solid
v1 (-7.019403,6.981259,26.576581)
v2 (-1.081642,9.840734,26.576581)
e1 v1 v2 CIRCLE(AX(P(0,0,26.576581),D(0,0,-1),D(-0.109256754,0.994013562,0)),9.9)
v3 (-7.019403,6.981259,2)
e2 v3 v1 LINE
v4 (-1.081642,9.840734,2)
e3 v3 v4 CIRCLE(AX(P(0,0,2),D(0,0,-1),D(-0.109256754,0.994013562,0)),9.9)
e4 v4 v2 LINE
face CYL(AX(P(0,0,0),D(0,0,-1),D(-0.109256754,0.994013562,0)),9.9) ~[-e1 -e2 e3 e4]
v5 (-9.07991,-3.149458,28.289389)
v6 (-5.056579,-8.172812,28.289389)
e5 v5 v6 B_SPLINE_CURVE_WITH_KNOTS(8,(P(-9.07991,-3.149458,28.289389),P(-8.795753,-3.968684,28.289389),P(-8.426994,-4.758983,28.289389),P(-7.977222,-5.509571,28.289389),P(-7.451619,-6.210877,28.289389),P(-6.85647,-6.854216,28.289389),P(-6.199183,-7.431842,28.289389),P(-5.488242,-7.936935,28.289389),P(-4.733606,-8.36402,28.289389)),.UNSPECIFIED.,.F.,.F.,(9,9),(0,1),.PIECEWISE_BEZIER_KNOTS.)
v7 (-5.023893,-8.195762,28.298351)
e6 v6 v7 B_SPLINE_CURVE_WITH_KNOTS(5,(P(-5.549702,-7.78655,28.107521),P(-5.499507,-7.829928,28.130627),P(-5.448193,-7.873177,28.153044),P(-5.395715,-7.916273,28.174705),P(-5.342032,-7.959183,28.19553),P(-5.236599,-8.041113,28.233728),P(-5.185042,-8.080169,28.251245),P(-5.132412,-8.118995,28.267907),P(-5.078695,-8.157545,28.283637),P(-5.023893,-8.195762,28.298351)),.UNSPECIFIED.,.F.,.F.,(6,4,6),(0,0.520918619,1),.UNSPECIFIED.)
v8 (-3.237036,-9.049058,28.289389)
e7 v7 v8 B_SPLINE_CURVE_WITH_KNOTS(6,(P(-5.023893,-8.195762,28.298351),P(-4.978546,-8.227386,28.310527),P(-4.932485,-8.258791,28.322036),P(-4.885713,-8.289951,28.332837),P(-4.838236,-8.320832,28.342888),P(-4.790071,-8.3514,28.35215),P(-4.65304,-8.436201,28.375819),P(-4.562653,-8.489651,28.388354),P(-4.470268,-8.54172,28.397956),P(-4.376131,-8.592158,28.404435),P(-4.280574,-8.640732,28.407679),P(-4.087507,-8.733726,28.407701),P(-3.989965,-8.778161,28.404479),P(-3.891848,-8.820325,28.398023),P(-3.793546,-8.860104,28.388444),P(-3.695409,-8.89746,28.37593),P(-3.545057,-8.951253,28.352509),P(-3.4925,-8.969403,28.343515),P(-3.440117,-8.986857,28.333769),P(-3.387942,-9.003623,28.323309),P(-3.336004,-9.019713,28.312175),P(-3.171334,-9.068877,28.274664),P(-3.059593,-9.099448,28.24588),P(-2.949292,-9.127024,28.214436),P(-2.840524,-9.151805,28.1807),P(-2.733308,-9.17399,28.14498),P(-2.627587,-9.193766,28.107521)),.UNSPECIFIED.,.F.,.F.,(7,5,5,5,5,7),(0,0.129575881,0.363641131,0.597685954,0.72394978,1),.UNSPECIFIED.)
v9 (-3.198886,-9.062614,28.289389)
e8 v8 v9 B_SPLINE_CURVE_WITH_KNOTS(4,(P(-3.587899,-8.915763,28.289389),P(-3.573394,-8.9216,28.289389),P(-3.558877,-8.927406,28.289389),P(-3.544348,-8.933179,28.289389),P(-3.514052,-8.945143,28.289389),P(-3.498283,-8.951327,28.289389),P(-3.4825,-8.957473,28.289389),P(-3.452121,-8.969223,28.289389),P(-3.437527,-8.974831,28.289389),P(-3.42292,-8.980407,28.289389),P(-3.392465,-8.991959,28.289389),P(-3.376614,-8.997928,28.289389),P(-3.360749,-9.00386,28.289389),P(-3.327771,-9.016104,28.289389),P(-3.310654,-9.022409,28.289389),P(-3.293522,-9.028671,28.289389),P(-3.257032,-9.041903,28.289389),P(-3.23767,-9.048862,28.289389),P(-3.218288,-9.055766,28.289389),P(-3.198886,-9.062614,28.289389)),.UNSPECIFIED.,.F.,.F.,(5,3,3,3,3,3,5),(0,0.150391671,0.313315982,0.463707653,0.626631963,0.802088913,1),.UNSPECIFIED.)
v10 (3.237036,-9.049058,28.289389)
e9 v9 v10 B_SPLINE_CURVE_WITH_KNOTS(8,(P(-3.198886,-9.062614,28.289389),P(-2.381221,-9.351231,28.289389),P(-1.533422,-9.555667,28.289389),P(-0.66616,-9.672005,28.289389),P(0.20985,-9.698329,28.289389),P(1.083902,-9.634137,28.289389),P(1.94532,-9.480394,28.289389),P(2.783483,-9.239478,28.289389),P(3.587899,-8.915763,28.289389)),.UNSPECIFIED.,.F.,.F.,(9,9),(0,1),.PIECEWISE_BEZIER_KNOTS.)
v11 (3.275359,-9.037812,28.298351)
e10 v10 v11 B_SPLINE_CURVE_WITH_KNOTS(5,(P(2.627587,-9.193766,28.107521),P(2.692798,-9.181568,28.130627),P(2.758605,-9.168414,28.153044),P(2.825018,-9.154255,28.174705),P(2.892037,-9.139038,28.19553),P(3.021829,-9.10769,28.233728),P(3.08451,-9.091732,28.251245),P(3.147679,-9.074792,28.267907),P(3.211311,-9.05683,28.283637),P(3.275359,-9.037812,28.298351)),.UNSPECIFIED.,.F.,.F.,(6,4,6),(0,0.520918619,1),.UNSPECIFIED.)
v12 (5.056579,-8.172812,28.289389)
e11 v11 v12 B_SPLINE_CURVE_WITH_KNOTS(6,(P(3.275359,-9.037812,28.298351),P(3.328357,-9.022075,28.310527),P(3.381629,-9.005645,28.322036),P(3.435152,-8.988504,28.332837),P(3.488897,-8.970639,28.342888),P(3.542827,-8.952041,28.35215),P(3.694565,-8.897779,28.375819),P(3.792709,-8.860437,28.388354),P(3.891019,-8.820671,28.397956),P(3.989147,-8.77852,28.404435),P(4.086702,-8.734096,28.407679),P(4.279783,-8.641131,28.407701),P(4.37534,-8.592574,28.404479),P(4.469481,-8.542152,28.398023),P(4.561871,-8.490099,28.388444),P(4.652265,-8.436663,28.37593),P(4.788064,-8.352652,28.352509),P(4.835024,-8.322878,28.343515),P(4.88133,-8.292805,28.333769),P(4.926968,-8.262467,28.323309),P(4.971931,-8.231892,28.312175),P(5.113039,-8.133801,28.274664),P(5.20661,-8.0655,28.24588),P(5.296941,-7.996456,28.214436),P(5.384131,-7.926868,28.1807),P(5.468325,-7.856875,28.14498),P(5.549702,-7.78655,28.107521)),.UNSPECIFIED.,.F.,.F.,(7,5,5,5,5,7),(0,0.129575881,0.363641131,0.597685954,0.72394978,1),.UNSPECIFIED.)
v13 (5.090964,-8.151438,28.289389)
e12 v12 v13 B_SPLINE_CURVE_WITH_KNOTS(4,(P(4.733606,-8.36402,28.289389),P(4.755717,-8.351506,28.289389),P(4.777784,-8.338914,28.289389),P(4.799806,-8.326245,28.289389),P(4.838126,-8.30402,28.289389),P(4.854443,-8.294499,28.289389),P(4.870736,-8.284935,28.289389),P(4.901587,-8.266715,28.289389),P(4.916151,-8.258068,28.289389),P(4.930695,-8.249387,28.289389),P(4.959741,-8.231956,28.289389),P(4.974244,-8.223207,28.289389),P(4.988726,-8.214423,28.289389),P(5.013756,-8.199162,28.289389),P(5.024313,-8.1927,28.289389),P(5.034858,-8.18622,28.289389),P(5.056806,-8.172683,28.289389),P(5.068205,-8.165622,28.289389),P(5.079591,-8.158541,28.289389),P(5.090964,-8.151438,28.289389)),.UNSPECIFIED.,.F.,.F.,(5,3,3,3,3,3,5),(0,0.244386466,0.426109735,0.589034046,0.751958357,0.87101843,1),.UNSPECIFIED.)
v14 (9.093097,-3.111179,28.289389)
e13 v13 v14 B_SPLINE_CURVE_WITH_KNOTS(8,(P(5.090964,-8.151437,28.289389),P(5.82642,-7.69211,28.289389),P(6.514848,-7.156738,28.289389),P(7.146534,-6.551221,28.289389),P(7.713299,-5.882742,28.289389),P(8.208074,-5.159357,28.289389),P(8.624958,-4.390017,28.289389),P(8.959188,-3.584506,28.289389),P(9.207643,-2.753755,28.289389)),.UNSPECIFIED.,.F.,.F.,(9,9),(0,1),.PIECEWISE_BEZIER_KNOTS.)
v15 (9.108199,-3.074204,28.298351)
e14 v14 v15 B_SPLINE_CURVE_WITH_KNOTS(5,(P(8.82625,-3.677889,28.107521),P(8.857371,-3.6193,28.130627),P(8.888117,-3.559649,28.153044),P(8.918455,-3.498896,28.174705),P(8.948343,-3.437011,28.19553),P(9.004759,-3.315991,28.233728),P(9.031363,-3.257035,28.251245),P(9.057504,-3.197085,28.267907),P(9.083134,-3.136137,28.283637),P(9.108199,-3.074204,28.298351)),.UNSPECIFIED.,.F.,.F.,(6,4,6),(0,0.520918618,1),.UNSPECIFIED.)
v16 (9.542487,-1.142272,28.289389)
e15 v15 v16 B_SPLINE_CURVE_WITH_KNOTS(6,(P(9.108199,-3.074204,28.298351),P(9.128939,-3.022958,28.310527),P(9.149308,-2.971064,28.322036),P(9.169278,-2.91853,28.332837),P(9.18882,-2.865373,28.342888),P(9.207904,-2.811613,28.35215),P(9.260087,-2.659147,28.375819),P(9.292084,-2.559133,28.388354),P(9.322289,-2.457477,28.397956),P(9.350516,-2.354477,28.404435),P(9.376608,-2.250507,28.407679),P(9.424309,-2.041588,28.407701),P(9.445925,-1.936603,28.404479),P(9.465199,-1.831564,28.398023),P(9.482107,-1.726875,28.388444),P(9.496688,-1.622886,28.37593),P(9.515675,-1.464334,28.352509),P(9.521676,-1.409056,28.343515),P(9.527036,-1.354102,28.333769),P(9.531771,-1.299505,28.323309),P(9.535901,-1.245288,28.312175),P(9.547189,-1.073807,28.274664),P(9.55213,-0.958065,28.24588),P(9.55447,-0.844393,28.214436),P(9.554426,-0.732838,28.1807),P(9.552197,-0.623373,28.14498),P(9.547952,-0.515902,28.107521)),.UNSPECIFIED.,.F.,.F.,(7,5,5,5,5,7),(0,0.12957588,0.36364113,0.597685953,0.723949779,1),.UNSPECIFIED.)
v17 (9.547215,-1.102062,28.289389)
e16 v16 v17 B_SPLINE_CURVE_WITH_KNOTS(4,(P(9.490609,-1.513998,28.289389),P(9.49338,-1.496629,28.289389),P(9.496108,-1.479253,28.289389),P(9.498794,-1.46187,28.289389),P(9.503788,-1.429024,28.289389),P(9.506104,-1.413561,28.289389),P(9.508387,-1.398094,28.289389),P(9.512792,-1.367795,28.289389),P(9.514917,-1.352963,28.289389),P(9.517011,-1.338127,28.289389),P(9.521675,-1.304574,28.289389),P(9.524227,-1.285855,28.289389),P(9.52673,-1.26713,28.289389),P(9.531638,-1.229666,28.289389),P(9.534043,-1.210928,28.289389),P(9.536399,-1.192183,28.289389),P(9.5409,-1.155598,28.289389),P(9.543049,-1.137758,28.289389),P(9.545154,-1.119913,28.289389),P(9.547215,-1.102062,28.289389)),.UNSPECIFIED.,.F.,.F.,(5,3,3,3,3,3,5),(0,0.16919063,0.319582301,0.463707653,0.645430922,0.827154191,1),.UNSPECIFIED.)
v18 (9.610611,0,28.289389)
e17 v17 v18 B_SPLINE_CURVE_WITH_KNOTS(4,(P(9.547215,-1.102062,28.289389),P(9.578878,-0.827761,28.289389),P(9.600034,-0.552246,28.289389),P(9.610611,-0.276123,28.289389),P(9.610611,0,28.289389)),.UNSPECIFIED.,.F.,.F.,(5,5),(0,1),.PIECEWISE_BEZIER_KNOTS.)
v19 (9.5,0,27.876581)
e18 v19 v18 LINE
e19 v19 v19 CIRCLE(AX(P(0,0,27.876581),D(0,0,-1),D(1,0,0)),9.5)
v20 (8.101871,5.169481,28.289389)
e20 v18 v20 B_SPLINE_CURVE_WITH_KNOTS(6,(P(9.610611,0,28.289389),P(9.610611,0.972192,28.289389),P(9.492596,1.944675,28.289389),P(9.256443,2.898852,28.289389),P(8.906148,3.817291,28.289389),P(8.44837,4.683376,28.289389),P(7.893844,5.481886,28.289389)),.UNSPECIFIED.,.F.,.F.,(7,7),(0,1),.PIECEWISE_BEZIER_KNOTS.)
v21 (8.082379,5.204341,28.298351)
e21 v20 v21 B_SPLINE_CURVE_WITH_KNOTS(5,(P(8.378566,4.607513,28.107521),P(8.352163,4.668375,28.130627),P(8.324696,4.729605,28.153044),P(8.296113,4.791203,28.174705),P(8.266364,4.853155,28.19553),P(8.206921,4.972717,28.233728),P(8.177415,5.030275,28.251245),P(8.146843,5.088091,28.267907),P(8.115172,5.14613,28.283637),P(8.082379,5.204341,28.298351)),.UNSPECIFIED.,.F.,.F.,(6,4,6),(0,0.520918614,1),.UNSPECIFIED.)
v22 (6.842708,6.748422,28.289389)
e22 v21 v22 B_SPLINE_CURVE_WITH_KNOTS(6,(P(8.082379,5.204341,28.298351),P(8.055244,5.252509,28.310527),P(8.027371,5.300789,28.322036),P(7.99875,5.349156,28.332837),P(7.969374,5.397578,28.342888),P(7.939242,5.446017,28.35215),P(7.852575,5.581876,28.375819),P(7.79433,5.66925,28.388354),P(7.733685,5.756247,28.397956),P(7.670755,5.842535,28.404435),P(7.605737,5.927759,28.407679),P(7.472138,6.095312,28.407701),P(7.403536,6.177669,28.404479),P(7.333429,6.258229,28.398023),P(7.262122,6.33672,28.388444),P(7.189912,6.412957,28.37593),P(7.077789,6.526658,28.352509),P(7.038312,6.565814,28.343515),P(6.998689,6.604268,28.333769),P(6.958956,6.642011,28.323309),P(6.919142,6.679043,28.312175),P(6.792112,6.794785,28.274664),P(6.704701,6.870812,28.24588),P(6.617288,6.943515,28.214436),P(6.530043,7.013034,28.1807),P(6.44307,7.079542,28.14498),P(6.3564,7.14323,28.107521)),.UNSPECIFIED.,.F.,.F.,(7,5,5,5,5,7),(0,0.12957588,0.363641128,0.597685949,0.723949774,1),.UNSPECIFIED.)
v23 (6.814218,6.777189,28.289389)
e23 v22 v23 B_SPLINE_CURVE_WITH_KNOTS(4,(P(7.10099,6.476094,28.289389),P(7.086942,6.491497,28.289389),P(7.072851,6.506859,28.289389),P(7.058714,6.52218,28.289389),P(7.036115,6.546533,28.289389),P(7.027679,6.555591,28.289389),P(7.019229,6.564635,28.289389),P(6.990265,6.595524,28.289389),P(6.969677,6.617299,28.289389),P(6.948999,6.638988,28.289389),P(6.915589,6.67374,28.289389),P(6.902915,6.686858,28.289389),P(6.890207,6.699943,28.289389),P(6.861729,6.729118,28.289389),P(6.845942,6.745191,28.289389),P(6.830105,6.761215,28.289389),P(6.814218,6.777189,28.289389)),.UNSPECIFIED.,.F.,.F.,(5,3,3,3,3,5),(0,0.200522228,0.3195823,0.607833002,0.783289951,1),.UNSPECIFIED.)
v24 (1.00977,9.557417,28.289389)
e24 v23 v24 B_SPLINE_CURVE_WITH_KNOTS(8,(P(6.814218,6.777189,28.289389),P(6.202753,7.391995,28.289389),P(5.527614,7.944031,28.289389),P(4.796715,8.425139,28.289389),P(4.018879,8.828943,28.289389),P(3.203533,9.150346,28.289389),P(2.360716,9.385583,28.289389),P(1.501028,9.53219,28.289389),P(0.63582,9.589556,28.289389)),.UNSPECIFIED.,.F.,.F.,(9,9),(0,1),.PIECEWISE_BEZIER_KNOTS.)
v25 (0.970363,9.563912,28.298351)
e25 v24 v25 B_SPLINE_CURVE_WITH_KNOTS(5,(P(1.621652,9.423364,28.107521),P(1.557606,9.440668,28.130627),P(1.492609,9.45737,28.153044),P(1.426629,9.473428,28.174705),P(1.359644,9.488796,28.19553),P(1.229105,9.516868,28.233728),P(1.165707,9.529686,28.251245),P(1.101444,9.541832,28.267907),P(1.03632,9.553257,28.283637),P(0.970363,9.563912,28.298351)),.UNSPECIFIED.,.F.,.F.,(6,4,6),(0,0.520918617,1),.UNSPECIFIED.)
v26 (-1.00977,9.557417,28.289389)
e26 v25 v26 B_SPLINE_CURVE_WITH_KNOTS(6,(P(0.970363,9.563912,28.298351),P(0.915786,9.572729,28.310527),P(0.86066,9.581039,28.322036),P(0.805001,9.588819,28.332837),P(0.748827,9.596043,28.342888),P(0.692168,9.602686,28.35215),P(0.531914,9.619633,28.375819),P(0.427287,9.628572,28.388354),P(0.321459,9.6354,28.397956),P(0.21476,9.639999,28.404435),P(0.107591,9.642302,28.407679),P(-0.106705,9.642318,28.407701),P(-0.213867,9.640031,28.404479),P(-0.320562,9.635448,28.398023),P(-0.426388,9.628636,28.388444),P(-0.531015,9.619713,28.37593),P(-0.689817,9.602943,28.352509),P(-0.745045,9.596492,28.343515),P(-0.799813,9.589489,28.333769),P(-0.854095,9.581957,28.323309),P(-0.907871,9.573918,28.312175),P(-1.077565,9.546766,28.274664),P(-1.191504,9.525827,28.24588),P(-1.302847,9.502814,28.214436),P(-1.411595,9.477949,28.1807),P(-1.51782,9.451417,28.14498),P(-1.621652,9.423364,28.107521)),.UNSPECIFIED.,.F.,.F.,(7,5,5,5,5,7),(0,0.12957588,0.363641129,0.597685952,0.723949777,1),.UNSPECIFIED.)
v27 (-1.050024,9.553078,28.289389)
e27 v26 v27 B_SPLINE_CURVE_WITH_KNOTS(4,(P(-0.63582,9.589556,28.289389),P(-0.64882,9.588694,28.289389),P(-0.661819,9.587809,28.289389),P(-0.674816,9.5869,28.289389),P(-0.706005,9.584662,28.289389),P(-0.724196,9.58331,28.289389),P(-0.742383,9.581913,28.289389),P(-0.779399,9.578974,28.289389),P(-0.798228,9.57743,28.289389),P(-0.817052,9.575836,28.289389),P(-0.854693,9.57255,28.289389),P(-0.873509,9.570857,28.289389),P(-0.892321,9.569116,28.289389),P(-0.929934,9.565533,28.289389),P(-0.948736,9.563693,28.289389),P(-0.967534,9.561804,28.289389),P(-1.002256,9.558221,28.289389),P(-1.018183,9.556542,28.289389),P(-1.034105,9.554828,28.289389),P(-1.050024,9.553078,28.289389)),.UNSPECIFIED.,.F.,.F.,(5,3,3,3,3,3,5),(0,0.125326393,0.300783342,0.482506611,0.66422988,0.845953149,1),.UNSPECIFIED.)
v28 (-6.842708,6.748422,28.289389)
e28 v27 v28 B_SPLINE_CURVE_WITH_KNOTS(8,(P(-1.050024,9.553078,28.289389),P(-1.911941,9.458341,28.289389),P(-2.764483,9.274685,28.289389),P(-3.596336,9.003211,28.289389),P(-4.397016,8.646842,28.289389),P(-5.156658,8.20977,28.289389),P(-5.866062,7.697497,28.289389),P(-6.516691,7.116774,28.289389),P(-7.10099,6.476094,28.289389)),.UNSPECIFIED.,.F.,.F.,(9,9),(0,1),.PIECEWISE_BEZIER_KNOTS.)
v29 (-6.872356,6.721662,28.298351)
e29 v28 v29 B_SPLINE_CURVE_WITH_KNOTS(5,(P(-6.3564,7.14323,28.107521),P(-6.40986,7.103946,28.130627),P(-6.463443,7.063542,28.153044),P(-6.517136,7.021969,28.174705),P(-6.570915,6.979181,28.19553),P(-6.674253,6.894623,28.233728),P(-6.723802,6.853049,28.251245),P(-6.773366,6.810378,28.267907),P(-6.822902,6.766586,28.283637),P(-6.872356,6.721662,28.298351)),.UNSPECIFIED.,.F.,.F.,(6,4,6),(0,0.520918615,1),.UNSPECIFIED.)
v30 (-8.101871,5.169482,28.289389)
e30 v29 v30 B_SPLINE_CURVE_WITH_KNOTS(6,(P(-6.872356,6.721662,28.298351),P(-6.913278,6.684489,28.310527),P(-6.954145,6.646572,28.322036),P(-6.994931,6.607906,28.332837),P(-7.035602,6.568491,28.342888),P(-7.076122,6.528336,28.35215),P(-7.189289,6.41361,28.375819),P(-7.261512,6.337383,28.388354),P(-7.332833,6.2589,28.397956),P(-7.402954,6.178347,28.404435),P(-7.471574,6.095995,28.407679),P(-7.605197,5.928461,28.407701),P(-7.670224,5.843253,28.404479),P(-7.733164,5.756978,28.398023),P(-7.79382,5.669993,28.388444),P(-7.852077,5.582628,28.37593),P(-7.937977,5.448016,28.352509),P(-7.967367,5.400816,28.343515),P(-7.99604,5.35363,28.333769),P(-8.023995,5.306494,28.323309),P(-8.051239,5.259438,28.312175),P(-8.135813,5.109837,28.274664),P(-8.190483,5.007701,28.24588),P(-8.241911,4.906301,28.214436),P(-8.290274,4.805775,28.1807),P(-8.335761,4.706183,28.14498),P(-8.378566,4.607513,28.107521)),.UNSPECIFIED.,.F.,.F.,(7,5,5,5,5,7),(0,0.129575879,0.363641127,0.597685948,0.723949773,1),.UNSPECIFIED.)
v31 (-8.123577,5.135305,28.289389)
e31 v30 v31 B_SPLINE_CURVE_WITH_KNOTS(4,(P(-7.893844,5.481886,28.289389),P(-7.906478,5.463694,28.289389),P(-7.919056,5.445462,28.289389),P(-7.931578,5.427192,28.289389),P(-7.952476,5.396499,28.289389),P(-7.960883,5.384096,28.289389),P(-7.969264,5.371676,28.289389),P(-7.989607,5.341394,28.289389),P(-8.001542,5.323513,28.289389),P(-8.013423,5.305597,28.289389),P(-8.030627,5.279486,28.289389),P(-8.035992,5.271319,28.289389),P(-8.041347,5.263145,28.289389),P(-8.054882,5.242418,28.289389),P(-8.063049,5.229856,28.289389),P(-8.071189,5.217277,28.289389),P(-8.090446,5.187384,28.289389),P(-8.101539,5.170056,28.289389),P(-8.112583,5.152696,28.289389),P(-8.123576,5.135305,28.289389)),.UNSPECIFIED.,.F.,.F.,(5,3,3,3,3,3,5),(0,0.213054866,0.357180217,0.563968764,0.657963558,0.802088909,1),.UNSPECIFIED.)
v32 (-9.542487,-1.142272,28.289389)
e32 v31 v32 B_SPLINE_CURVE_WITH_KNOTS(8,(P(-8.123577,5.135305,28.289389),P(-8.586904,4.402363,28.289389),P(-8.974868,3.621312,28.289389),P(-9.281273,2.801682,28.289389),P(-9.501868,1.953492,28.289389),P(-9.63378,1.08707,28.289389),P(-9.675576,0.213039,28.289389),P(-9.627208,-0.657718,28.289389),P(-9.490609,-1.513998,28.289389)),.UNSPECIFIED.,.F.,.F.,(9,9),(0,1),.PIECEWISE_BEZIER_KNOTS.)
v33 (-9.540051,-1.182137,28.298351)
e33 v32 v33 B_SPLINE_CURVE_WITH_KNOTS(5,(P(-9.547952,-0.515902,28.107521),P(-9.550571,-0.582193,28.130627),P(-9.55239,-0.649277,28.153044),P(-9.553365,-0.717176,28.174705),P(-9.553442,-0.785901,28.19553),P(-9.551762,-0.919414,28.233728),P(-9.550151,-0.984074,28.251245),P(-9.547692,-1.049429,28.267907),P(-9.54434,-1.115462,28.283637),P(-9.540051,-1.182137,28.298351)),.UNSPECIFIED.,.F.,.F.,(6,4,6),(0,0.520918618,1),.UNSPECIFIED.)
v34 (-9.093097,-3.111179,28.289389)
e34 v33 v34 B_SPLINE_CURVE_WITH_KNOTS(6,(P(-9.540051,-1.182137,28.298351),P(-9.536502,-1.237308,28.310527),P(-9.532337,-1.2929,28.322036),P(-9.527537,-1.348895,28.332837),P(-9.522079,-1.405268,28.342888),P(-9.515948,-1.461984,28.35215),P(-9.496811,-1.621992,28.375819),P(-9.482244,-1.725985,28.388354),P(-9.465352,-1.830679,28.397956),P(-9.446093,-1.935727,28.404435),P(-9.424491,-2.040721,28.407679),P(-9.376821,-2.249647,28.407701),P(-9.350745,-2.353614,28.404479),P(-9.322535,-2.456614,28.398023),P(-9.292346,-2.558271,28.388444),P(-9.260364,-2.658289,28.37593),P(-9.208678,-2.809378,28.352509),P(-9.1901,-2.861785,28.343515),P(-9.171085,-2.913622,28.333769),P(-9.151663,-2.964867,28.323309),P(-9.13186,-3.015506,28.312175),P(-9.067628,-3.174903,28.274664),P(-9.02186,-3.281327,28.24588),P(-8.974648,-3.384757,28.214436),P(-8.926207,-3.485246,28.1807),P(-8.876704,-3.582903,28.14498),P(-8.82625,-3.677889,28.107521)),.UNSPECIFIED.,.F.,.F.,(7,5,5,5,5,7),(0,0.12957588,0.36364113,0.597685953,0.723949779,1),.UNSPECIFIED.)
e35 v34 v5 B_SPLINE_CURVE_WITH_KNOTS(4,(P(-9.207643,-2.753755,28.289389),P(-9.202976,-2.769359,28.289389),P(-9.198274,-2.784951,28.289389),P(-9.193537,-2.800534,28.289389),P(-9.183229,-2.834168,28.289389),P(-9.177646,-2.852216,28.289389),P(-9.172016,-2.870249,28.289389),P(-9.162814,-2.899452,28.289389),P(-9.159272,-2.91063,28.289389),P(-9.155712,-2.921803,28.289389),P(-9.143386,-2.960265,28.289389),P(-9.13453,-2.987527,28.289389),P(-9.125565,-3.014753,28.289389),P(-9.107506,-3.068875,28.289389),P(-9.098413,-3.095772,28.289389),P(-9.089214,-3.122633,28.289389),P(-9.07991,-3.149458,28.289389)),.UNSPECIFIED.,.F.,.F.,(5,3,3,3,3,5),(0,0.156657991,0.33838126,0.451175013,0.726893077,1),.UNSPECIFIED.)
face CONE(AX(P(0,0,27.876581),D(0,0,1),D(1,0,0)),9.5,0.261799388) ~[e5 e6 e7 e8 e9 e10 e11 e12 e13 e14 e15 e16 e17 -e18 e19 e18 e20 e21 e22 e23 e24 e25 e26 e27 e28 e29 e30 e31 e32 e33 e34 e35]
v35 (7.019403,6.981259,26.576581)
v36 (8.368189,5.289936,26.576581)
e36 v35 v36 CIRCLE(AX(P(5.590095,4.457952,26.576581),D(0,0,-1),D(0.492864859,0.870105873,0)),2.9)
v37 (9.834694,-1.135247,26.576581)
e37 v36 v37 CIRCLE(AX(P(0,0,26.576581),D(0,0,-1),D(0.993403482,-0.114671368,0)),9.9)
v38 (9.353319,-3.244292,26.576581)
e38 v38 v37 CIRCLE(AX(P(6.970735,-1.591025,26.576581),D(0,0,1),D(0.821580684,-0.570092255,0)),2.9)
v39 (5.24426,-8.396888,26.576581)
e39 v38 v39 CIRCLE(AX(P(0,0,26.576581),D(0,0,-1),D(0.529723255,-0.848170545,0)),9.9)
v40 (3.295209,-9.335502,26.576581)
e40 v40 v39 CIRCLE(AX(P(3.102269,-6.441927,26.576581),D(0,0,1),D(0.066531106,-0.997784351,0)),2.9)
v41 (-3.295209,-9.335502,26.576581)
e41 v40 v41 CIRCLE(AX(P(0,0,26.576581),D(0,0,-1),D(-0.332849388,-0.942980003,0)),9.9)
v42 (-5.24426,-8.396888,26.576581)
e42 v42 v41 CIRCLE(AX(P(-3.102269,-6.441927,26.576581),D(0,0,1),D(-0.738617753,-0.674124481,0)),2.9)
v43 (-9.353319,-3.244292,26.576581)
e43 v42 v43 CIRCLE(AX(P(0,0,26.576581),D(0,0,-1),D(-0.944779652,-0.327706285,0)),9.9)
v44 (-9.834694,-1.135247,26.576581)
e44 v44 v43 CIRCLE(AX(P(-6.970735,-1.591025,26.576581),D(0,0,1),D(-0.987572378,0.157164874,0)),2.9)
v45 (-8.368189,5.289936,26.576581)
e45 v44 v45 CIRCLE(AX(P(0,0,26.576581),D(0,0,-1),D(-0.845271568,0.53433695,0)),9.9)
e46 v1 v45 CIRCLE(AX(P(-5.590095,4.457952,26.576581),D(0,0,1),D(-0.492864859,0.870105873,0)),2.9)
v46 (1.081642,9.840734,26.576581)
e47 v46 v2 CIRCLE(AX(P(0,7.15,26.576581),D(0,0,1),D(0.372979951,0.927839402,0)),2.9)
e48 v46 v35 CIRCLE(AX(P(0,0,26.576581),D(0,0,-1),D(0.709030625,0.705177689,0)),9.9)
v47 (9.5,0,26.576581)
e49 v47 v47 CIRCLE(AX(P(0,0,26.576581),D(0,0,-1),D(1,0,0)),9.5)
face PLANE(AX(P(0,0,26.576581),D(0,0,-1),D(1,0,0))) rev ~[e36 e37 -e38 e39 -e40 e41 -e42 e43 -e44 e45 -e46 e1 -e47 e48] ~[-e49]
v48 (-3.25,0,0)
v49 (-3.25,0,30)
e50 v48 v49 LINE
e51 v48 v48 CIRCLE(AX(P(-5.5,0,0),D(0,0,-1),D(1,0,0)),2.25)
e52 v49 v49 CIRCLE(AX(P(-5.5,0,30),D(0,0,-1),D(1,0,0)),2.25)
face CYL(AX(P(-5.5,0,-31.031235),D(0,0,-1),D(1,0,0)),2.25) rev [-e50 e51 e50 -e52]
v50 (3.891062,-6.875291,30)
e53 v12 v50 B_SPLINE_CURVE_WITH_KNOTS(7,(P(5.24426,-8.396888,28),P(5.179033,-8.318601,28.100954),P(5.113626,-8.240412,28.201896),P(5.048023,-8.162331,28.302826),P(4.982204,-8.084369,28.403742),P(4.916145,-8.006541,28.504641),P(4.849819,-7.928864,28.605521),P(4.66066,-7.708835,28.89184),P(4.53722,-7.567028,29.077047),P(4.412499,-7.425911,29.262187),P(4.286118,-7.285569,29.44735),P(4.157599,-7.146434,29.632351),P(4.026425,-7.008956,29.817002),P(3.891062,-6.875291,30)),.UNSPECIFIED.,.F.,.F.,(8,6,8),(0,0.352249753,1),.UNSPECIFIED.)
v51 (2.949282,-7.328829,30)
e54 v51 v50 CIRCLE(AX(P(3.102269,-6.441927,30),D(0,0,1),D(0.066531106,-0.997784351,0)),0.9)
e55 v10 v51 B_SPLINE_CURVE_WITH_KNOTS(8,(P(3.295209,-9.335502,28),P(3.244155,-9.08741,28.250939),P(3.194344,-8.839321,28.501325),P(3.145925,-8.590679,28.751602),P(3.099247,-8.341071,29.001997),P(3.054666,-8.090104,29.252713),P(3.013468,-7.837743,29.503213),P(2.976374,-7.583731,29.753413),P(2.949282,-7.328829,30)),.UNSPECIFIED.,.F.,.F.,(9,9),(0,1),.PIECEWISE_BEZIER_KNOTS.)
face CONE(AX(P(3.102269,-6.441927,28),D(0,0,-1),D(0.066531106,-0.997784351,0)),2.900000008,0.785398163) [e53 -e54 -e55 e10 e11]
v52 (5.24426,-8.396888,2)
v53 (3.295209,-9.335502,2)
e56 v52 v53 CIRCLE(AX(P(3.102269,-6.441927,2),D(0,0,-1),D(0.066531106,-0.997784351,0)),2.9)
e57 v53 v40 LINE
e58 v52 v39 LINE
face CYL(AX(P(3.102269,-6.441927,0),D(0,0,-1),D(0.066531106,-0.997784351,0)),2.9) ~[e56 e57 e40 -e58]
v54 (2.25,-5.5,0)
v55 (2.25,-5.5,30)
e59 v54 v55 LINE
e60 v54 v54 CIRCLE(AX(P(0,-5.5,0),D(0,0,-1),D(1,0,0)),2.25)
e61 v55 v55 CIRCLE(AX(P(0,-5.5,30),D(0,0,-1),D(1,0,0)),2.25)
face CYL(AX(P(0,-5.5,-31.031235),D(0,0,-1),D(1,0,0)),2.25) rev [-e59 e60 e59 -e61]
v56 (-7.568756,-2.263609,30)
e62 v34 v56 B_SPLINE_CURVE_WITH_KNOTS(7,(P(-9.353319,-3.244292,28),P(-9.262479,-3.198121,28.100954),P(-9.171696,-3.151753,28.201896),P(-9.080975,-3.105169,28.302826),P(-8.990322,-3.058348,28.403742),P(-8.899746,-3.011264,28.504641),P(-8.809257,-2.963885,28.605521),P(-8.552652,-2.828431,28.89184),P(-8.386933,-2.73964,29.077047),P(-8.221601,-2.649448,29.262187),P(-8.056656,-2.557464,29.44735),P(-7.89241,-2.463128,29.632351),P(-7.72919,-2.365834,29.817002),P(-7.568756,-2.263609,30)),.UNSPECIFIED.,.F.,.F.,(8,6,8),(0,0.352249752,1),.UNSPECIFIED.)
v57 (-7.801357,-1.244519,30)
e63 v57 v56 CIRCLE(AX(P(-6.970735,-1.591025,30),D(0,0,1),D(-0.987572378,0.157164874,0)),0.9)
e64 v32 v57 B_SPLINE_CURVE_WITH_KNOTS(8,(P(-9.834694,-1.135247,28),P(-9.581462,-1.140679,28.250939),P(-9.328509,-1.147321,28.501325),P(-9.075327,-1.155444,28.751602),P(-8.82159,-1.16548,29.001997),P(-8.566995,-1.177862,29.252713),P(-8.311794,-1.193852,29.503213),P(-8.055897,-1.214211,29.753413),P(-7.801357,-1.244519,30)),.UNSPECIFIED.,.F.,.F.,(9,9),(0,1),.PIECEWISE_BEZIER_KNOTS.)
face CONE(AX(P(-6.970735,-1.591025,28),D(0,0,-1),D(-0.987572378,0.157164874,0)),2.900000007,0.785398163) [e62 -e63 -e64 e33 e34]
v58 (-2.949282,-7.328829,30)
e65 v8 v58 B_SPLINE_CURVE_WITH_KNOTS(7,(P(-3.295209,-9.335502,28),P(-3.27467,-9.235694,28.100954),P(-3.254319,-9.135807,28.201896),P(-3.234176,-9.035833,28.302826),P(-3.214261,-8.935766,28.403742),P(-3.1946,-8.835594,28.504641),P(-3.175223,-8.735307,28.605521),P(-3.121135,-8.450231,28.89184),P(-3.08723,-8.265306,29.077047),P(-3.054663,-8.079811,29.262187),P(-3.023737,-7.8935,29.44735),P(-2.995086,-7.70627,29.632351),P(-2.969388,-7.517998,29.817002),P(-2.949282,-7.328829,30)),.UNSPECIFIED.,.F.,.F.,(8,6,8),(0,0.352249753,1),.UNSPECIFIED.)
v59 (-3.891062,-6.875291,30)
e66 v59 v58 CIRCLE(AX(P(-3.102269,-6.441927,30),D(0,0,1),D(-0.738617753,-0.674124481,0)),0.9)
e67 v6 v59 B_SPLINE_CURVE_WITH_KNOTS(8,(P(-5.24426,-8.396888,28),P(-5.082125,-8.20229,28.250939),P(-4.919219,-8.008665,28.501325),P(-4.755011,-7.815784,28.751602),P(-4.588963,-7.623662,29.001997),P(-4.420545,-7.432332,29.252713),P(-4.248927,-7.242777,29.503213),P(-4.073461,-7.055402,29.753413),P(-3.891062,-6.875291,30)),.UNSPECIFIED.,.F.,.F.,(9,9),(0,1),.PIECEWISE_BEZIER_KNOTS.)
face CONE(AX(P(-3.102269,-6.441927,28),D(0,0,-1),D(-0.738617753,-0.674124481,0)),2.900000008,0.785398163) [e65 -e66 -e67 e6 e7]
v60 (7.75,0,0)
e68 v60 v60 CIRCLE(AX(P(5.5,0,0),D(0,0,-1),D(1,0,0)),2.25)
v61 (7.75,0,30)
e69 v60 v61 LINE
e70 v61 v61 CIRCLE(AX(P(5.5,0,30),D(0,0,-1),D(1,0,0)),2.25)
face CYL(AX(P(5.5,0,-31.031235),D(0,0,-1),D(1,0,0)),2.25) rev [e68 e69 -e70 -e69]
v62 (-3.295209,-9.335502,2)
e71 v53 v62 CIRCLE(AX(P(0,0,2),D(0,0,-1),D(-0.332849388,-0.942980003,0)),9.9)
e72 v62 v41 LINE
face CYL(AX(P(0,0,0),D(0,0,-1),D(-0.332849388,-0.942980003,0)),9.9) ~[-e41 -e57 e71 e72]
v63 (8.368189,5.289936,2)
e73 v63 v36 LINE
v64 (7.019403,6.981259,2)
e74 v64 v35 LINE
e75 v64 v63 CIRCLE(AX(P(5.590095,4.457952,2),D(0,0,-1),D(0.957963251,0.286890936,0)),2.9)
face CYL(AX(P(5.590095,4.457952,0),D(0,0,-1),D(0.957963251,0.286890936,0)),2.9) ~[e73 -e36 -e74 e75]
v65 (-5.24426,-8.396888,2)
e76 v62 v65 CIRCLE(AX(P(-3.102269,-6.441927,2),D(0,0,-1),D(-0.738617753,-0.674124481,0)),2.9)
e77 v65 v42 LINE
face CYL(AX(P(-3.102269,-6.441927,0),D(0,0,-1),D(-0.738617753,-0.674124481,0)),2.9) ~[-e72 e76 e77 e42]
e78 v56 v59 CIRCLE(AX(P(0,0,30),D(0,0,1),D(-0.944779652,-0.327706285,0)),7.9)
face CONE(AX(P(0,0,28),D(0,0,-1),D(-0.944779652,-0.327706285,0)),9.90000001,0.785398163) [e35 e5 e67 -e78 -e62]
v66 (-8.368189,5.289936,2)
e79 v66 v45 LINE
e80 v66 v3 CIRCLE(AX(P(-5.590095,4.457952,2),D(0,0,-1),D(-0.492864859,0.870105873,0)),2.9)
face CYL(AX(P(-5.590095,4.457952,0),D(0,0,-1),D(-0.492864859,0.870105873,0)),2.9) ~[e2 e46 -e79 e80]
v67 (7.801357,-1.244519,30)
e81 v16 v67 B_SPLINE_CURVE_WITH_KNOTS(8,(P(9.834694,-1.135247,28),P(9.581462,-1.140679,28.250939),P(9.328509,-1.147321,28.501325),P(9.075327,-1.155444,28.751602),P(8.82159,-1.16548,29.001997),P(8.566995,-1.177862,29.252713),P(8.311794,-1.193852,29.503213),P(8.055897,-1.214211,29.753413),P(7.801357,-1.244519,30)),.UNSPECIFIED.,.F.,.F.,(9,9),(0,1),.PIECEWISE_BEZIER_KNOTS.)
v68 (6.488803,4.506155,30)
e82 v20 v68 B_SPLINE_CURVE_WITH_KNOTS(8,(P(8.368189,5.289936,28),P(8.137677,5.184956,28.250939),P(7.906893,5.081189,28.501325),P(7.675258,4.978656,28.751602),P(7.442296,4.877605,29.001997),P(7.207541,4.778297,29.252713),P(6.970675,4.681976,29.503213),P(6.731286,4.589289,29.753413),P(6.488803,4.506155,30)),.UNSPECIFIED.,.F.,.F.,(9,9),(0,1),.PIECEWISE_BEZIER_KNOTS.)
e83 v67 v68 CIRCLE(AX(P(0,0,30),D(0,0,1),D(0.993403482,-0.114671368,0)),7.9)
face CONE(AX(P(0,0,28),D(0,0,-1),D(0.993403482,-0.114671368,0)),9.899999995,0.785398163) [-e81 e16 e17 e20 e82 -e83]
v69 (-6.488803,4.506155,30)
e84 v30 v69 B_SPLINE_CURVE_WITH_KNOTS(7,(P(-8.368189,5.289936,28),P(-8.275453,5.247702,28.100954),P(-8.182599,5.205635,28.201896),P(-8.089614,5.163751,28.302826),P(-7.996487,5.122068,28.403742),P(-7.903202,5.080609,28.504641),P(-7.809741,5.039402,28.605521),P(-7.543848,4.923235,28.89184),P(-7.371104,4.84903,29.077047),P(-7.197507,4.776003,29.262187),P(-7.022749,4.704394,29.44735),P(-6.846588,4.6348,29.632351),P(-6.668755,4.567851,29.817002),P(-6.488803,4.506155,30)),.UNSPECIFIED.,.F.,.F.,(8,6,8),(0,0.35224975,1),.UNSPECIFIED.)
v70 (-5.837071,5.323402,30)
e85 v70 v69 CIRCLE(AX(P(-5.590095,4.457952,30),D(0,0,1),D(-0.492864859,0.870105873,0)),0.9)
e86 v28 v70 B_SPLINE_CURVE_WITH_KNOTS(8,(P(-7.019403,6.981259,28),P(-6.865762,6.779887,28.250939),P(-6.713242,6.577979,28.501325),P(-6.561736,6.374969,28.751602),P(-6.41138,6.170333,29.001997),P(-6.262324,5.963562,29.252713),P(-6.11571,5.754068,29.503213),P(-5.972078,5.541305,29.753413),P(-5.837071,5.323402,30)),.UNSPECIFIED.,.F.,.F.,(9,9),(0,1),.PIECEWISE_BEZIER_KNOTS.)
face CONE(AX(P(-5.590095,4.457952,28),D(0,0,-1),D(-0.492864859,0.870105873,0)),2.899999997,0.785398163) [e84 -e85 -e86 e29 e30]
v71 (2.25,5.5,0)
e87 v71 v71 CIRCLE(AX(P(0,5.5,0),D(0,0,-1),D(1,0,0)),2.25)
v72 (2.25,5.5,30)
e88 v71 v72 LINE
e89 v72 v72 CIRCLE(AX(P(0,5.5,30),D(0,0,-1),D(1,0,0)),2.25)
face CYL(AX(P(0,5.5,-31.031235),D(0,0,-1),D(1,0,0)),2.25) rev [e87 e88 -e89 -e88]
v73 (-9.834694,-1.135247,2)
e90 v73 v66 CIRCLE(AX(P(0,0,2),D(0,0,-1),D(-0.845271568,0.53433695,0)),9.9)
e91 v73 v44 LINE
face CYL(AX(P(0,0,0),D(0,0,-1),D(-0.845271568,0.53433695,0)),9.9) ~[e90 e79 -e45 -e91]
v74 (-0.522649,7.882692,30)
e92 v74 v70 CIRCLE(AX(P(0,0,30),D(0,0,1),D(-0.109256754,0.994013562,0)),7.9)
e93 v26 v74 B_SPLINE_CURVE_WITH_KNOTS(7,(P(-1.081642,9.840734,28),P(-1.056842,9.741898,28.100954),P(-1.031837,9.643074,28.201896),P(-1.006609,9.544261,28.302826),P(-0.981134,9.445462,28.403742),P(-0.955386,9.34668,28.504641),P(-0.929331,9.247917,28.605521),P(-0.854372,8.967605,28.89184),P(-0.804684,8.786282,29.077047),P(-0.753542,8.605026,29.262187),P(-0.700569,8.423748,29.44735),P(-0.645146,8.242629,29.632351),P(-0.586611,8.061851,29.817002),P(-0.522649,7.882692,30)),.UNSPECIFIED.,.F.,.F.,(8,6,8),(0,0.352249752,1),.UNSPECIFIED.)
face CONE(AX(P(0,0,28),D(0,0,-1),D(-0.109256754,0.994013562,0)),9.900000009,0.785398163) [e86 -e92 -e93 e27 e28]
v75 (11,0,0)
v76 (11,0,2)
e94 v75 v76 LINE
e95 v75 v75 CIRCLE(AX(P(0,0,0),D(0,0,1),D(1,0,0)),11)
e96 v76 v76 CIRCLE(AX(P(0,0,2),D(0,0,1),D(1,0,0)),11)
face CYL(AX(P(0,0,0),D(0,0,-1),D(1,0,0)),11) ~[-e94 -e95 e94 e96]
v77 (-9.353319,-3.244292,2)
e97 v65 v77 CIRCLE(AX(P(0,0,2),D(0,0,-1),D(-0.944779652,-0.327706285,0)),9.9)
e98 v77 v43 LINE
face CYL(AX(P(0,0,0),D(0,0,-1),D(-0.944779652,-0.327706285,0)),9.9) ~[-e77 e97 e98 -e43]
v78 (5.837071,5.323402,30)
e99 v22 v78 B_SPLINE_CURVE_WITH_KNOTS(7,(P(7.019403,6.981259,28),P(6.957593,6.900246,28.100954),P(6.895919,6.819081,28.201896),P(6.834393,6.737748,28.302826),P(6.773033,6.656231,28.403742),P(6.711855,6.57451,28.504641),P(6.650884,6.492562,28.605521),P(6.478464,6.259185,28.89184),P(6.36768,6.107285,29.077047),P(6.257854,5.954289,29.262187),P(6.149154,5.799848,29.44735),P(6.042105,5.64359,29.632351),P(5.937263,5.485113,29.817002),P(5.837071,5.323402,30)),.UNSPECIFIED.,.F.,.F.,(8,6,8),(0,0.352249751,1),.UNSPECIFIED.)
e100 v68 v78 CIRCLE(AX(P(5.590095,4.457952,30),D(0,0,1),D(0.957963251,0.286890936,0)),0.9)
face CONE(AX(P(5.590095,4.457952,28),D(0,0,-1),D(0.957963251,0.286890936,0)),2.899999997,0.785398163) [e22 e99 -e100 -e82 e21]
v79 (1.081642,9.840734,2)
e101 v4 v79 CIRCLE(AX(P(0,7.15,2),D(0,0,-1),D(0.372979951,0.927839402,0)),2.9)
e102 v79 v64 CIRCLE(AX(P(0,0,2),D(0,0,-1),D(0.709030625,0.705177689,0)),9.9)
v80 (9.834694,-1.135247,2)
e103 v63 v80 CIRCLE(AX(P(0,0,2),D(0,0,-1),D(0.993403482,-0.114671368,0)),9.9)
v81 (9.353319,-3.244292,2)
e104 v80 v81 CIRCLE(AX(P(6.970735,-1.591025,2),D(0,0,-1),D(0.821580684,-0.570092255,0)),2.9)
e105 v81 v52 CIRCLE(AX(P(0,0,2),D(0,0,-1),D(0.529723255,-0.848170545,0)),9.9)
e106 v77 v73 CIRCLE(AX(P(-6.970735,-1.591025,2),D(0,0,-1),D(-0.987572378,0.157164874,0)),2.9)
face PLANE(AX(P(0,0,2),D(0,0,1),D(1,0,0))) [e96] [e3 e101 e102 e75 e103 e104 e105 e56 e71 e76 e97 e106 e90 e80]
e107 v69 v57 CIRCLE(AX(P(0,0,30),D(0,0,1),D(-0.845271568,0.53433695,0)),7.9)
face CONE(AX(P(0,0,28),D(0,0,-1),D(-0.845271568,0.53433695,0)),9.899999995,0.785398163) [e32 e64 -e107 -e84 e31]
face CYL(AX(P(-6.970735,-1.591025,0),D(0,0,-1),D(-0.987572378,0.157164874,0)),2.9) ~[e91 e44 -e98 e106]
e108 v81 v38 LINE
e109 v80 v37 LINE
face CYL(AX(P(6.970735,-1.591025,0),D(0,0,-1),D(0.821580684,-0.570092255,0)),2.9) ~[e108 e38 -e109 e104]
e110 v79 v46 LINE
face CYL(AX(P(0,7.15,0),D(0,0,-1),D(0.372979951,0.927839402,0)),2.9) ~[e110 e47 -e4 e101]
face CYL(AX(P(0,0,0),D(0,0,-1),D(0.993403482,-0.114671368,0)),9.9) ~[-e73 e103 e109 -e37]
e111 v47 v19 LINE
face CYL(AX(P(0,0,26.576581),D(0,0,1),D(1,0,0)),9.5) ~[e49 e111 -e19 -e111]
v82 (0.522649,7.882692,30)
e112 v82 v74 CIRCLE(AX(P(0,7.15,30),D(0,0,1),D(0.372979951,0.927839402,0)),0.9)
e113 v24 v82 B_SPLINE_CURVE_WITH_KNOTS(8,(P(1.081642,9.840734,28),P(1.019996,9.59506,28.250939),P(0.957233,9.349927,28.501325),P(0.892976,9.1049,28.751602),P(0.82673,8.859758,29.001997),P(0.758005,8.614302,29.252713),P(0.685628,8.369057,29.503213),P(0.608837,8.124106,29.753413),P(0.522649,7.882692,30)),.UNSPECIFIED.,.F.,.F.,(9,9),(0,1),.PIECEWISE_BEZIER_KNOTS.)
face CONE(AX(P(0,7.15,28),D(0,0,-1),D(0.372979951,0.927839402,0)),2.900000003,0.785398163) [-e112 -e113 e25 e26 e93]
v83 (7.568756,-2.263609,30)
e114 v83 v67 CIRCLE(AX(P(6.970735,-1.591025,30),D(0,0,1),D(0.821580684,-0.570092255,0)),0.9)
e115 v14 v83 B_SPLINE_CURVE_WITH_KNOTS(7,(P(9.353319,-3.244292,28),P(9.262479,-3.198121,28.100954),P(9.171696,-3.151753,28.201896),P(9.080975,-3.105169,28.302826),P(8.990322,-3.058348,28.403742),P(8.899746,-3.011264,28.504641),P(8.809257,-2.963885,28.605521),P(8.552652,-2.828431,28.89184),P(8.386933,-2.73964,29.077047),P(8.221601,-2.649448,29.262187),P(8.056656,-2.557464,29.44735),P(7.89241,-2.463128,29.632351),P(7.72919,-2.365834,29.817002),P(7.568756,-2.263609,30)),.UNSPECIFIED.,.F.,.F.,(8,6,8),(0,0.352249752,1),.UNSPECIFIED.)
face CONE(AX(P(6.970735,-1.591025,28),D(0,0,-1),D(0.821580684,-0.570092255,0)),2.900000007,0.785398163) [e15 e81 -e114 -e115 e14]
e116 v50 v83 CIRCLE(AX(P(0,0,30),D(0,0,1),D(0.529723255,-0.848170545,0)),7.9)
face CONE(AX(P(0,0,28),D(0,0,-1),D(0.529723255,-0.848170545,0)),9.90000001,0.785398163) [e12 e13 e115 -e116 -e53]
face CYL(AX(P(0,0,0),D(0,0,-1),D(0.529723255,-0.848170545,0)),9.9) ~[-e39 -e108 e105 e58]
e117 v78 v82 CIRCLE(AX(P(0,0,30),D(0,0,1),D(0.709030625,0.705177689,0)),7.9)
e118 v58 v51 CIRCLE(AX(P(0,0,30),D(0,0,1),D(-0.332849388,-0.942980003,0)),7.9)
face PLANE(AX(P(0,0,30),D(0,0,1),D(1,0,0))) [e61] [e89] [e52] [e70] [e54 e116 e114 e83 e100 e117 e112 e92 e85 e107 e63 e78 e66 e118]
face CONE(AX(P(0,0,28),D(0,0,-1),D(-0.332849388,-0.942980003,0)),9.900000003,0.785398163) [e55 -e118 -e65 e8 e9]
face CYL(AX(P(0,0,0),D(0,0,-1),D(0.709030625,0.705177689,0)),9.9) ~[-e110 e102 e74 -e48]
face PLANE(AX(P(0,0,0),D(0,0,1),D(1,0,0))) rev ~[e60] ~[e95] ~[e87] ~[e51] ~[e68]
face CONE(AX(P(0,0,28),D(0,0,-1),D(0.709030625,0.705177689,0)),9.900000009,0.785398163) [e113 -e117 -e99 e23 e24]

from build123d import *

# Parameters (mm, degrees)
AUFSATZ_LINEAR_AUSTRAGEN1_DEPTH      = 30
SKIZZE2_R                            = 11
AUFSATZ_LINEAR_AUSTRAGEN2_DEPTH      = 2
FASE1_SIZE                           = 2
SCHNITT_LINEAR_AUSTRAGEN1_DEPTH      = 33.031234844
SCHNITT_LINEAR_AUSTRAGEN1_DEPTH_BACK = 33.031234844
SKIZZE3_R                            = 2.25


with BuildPart() as part:
    # Skizze1 → Aufsatz-Linear austragen1 (new body)
    with BuildSketch(Plane.XY):
        with BuildLine():
            ThreePointArc((9.834694469, -1.13524654), (9.651786331, 2.202957246), (8.368188528, 5.289935799))
            ThreePointArc((8.368188528, 5.289935799), (7.857406399, 6.266072509), (7.019403191, 6.981259116))
            ThreePointArc((7.019403191, 6.981259116), (4.295449017, 8.919591792), (1.081641859, 9.840734266))
            ThreePointArc((1.081641859, 9.840734266), (0, 10.05), (-1.081641859, 9.840734266))
            ThreePointArc((-1.081641859, 9.840734266), (-4.295449017, 8.919591792), (-7.019403191, 6.981259116))
            ThreePointArc((-7.019403191, 6.981259116), (-7.857406399, 6.266072509), (-8.368188528, 5.289935799))
            ThreePointArc((-8.368188528, 5.289935799), (-9.651786331, 2.202957246), (-9.834694469, -1.13524654))
            ThreePointArc((-9.834694469, -1.13524654), (-9.798025517, -2.236335386), (-9.353318555, -3.244292219))
            ThreePointArc((-9.353318555, -3.244292219), (-7.740131676, -6.172549038), (-5.24426022, -8.396888397))
            ThreePointArc((-5.24426022, -8.396888397), (-4.360531578, -9.054737122), (-3.295208938, -9.335502025))
            ThreePointArc((-3.295208938, -9.335502025), (0, -9.9), (3.295208938, -9.335502025))
            ThreePointArc((3.295208938, -9.335502025), (4.360531578, -9.054737122), (5.24426022, -8.396888397))
            ThreePointArc((5.24426022, -8.396888397), (7.740131676, -6.172549038), (9.353318555, -3.244292219))
            ThreePointArc((9.353318555, -3.244292219), (9.798025517, -2.236335386), (9.834694469, -1.13524654))
        make_face()
    extrude(amount=AUFSATZ_LINEAR_AUSTRAGEN1_DEPTH)

    # Skizze2 → Aufsatz-Linear austragen2 (add)
    with BuildSketch(Plane.XY):
        Circle(SKIZZE2_R)
    extrude(amount=AUFSATZ_LINEAR_AUSTRAGEN2_DEPTH)

    # Fase1
    fase1_edges = [part.edges().sort_by_distance(p)[0] for p in [
        (9.798025517, -2.236335386, 30),
        (7.740131676, -6.172549038, 30),
        (4.360531578, -9.054737122, 30),
        (0, -9.9, 30),
        (-4.360531578, -9.054737122, 30),
        (-7.740131676, -6.172549038, 30),
        (-9.798025517, -2.236335386, 30),
        (-9.651786331, 2.202957246, 30),
        (-7.857406399, 6.266072509, 30),
        (-4.295449017, 8.919591792, 30),
        (0, 10.05, 30),
        (4.295449017, 8.919591792, 30),
        (7.857406399, 6.266072509, 30),
        (9.651786331, 2.202957246, 30),
    ]]
    chamfer(fase1_edges, length=FASE1_SIZE)

    # Skizze3 → Schnitt-Linear austragen1 (cut, two sides: drawn at the far end of the back side and taken through both)
    with BuildSketch(Plane.XY.offset(2).offset(-SCHNITT_LINEAR_AUSTRAGEN1_DEPTH_BACK)):
        with Locations((0, 5.5)):
            Circle(SKIZZE3_R)
        with Locations((5.5, 0)):
            Circle(SKIZZE3_R)
        with Locations((0, -5.5)):
            Circle(SKIZZE3_R)
        with Locations((-5.5, 0)):
            Circle(SKIZZE3_R)
    extrude(amount=SCHNITT_LINEAR_AUSTRAGEN1_DEPTH + SCHNITT_LINEAR_AUSTRAGEN1_DEPTH_BACK, mode=Mode.SUBTRACT)

    # Skizze4 → Schnitt-Rotation1 (revolve, cut)
    with BuildSketch(Plane(origin=(0, 0, 0), x_dir=(0, 0, -1), z_dir=(1, 0, 0))):
        Polygon((-27.876581368, 10.05), (-26.576581368, 10.05), (-26.576581368, 9.5), (-27.876581368, 9.5), (-29.929209312, 10.05), align=None)
    revolve(axis=Axis((0, 0, 0), (0, 0, -1)), mode=Mode.SUBTRACT)


solid = part.part
